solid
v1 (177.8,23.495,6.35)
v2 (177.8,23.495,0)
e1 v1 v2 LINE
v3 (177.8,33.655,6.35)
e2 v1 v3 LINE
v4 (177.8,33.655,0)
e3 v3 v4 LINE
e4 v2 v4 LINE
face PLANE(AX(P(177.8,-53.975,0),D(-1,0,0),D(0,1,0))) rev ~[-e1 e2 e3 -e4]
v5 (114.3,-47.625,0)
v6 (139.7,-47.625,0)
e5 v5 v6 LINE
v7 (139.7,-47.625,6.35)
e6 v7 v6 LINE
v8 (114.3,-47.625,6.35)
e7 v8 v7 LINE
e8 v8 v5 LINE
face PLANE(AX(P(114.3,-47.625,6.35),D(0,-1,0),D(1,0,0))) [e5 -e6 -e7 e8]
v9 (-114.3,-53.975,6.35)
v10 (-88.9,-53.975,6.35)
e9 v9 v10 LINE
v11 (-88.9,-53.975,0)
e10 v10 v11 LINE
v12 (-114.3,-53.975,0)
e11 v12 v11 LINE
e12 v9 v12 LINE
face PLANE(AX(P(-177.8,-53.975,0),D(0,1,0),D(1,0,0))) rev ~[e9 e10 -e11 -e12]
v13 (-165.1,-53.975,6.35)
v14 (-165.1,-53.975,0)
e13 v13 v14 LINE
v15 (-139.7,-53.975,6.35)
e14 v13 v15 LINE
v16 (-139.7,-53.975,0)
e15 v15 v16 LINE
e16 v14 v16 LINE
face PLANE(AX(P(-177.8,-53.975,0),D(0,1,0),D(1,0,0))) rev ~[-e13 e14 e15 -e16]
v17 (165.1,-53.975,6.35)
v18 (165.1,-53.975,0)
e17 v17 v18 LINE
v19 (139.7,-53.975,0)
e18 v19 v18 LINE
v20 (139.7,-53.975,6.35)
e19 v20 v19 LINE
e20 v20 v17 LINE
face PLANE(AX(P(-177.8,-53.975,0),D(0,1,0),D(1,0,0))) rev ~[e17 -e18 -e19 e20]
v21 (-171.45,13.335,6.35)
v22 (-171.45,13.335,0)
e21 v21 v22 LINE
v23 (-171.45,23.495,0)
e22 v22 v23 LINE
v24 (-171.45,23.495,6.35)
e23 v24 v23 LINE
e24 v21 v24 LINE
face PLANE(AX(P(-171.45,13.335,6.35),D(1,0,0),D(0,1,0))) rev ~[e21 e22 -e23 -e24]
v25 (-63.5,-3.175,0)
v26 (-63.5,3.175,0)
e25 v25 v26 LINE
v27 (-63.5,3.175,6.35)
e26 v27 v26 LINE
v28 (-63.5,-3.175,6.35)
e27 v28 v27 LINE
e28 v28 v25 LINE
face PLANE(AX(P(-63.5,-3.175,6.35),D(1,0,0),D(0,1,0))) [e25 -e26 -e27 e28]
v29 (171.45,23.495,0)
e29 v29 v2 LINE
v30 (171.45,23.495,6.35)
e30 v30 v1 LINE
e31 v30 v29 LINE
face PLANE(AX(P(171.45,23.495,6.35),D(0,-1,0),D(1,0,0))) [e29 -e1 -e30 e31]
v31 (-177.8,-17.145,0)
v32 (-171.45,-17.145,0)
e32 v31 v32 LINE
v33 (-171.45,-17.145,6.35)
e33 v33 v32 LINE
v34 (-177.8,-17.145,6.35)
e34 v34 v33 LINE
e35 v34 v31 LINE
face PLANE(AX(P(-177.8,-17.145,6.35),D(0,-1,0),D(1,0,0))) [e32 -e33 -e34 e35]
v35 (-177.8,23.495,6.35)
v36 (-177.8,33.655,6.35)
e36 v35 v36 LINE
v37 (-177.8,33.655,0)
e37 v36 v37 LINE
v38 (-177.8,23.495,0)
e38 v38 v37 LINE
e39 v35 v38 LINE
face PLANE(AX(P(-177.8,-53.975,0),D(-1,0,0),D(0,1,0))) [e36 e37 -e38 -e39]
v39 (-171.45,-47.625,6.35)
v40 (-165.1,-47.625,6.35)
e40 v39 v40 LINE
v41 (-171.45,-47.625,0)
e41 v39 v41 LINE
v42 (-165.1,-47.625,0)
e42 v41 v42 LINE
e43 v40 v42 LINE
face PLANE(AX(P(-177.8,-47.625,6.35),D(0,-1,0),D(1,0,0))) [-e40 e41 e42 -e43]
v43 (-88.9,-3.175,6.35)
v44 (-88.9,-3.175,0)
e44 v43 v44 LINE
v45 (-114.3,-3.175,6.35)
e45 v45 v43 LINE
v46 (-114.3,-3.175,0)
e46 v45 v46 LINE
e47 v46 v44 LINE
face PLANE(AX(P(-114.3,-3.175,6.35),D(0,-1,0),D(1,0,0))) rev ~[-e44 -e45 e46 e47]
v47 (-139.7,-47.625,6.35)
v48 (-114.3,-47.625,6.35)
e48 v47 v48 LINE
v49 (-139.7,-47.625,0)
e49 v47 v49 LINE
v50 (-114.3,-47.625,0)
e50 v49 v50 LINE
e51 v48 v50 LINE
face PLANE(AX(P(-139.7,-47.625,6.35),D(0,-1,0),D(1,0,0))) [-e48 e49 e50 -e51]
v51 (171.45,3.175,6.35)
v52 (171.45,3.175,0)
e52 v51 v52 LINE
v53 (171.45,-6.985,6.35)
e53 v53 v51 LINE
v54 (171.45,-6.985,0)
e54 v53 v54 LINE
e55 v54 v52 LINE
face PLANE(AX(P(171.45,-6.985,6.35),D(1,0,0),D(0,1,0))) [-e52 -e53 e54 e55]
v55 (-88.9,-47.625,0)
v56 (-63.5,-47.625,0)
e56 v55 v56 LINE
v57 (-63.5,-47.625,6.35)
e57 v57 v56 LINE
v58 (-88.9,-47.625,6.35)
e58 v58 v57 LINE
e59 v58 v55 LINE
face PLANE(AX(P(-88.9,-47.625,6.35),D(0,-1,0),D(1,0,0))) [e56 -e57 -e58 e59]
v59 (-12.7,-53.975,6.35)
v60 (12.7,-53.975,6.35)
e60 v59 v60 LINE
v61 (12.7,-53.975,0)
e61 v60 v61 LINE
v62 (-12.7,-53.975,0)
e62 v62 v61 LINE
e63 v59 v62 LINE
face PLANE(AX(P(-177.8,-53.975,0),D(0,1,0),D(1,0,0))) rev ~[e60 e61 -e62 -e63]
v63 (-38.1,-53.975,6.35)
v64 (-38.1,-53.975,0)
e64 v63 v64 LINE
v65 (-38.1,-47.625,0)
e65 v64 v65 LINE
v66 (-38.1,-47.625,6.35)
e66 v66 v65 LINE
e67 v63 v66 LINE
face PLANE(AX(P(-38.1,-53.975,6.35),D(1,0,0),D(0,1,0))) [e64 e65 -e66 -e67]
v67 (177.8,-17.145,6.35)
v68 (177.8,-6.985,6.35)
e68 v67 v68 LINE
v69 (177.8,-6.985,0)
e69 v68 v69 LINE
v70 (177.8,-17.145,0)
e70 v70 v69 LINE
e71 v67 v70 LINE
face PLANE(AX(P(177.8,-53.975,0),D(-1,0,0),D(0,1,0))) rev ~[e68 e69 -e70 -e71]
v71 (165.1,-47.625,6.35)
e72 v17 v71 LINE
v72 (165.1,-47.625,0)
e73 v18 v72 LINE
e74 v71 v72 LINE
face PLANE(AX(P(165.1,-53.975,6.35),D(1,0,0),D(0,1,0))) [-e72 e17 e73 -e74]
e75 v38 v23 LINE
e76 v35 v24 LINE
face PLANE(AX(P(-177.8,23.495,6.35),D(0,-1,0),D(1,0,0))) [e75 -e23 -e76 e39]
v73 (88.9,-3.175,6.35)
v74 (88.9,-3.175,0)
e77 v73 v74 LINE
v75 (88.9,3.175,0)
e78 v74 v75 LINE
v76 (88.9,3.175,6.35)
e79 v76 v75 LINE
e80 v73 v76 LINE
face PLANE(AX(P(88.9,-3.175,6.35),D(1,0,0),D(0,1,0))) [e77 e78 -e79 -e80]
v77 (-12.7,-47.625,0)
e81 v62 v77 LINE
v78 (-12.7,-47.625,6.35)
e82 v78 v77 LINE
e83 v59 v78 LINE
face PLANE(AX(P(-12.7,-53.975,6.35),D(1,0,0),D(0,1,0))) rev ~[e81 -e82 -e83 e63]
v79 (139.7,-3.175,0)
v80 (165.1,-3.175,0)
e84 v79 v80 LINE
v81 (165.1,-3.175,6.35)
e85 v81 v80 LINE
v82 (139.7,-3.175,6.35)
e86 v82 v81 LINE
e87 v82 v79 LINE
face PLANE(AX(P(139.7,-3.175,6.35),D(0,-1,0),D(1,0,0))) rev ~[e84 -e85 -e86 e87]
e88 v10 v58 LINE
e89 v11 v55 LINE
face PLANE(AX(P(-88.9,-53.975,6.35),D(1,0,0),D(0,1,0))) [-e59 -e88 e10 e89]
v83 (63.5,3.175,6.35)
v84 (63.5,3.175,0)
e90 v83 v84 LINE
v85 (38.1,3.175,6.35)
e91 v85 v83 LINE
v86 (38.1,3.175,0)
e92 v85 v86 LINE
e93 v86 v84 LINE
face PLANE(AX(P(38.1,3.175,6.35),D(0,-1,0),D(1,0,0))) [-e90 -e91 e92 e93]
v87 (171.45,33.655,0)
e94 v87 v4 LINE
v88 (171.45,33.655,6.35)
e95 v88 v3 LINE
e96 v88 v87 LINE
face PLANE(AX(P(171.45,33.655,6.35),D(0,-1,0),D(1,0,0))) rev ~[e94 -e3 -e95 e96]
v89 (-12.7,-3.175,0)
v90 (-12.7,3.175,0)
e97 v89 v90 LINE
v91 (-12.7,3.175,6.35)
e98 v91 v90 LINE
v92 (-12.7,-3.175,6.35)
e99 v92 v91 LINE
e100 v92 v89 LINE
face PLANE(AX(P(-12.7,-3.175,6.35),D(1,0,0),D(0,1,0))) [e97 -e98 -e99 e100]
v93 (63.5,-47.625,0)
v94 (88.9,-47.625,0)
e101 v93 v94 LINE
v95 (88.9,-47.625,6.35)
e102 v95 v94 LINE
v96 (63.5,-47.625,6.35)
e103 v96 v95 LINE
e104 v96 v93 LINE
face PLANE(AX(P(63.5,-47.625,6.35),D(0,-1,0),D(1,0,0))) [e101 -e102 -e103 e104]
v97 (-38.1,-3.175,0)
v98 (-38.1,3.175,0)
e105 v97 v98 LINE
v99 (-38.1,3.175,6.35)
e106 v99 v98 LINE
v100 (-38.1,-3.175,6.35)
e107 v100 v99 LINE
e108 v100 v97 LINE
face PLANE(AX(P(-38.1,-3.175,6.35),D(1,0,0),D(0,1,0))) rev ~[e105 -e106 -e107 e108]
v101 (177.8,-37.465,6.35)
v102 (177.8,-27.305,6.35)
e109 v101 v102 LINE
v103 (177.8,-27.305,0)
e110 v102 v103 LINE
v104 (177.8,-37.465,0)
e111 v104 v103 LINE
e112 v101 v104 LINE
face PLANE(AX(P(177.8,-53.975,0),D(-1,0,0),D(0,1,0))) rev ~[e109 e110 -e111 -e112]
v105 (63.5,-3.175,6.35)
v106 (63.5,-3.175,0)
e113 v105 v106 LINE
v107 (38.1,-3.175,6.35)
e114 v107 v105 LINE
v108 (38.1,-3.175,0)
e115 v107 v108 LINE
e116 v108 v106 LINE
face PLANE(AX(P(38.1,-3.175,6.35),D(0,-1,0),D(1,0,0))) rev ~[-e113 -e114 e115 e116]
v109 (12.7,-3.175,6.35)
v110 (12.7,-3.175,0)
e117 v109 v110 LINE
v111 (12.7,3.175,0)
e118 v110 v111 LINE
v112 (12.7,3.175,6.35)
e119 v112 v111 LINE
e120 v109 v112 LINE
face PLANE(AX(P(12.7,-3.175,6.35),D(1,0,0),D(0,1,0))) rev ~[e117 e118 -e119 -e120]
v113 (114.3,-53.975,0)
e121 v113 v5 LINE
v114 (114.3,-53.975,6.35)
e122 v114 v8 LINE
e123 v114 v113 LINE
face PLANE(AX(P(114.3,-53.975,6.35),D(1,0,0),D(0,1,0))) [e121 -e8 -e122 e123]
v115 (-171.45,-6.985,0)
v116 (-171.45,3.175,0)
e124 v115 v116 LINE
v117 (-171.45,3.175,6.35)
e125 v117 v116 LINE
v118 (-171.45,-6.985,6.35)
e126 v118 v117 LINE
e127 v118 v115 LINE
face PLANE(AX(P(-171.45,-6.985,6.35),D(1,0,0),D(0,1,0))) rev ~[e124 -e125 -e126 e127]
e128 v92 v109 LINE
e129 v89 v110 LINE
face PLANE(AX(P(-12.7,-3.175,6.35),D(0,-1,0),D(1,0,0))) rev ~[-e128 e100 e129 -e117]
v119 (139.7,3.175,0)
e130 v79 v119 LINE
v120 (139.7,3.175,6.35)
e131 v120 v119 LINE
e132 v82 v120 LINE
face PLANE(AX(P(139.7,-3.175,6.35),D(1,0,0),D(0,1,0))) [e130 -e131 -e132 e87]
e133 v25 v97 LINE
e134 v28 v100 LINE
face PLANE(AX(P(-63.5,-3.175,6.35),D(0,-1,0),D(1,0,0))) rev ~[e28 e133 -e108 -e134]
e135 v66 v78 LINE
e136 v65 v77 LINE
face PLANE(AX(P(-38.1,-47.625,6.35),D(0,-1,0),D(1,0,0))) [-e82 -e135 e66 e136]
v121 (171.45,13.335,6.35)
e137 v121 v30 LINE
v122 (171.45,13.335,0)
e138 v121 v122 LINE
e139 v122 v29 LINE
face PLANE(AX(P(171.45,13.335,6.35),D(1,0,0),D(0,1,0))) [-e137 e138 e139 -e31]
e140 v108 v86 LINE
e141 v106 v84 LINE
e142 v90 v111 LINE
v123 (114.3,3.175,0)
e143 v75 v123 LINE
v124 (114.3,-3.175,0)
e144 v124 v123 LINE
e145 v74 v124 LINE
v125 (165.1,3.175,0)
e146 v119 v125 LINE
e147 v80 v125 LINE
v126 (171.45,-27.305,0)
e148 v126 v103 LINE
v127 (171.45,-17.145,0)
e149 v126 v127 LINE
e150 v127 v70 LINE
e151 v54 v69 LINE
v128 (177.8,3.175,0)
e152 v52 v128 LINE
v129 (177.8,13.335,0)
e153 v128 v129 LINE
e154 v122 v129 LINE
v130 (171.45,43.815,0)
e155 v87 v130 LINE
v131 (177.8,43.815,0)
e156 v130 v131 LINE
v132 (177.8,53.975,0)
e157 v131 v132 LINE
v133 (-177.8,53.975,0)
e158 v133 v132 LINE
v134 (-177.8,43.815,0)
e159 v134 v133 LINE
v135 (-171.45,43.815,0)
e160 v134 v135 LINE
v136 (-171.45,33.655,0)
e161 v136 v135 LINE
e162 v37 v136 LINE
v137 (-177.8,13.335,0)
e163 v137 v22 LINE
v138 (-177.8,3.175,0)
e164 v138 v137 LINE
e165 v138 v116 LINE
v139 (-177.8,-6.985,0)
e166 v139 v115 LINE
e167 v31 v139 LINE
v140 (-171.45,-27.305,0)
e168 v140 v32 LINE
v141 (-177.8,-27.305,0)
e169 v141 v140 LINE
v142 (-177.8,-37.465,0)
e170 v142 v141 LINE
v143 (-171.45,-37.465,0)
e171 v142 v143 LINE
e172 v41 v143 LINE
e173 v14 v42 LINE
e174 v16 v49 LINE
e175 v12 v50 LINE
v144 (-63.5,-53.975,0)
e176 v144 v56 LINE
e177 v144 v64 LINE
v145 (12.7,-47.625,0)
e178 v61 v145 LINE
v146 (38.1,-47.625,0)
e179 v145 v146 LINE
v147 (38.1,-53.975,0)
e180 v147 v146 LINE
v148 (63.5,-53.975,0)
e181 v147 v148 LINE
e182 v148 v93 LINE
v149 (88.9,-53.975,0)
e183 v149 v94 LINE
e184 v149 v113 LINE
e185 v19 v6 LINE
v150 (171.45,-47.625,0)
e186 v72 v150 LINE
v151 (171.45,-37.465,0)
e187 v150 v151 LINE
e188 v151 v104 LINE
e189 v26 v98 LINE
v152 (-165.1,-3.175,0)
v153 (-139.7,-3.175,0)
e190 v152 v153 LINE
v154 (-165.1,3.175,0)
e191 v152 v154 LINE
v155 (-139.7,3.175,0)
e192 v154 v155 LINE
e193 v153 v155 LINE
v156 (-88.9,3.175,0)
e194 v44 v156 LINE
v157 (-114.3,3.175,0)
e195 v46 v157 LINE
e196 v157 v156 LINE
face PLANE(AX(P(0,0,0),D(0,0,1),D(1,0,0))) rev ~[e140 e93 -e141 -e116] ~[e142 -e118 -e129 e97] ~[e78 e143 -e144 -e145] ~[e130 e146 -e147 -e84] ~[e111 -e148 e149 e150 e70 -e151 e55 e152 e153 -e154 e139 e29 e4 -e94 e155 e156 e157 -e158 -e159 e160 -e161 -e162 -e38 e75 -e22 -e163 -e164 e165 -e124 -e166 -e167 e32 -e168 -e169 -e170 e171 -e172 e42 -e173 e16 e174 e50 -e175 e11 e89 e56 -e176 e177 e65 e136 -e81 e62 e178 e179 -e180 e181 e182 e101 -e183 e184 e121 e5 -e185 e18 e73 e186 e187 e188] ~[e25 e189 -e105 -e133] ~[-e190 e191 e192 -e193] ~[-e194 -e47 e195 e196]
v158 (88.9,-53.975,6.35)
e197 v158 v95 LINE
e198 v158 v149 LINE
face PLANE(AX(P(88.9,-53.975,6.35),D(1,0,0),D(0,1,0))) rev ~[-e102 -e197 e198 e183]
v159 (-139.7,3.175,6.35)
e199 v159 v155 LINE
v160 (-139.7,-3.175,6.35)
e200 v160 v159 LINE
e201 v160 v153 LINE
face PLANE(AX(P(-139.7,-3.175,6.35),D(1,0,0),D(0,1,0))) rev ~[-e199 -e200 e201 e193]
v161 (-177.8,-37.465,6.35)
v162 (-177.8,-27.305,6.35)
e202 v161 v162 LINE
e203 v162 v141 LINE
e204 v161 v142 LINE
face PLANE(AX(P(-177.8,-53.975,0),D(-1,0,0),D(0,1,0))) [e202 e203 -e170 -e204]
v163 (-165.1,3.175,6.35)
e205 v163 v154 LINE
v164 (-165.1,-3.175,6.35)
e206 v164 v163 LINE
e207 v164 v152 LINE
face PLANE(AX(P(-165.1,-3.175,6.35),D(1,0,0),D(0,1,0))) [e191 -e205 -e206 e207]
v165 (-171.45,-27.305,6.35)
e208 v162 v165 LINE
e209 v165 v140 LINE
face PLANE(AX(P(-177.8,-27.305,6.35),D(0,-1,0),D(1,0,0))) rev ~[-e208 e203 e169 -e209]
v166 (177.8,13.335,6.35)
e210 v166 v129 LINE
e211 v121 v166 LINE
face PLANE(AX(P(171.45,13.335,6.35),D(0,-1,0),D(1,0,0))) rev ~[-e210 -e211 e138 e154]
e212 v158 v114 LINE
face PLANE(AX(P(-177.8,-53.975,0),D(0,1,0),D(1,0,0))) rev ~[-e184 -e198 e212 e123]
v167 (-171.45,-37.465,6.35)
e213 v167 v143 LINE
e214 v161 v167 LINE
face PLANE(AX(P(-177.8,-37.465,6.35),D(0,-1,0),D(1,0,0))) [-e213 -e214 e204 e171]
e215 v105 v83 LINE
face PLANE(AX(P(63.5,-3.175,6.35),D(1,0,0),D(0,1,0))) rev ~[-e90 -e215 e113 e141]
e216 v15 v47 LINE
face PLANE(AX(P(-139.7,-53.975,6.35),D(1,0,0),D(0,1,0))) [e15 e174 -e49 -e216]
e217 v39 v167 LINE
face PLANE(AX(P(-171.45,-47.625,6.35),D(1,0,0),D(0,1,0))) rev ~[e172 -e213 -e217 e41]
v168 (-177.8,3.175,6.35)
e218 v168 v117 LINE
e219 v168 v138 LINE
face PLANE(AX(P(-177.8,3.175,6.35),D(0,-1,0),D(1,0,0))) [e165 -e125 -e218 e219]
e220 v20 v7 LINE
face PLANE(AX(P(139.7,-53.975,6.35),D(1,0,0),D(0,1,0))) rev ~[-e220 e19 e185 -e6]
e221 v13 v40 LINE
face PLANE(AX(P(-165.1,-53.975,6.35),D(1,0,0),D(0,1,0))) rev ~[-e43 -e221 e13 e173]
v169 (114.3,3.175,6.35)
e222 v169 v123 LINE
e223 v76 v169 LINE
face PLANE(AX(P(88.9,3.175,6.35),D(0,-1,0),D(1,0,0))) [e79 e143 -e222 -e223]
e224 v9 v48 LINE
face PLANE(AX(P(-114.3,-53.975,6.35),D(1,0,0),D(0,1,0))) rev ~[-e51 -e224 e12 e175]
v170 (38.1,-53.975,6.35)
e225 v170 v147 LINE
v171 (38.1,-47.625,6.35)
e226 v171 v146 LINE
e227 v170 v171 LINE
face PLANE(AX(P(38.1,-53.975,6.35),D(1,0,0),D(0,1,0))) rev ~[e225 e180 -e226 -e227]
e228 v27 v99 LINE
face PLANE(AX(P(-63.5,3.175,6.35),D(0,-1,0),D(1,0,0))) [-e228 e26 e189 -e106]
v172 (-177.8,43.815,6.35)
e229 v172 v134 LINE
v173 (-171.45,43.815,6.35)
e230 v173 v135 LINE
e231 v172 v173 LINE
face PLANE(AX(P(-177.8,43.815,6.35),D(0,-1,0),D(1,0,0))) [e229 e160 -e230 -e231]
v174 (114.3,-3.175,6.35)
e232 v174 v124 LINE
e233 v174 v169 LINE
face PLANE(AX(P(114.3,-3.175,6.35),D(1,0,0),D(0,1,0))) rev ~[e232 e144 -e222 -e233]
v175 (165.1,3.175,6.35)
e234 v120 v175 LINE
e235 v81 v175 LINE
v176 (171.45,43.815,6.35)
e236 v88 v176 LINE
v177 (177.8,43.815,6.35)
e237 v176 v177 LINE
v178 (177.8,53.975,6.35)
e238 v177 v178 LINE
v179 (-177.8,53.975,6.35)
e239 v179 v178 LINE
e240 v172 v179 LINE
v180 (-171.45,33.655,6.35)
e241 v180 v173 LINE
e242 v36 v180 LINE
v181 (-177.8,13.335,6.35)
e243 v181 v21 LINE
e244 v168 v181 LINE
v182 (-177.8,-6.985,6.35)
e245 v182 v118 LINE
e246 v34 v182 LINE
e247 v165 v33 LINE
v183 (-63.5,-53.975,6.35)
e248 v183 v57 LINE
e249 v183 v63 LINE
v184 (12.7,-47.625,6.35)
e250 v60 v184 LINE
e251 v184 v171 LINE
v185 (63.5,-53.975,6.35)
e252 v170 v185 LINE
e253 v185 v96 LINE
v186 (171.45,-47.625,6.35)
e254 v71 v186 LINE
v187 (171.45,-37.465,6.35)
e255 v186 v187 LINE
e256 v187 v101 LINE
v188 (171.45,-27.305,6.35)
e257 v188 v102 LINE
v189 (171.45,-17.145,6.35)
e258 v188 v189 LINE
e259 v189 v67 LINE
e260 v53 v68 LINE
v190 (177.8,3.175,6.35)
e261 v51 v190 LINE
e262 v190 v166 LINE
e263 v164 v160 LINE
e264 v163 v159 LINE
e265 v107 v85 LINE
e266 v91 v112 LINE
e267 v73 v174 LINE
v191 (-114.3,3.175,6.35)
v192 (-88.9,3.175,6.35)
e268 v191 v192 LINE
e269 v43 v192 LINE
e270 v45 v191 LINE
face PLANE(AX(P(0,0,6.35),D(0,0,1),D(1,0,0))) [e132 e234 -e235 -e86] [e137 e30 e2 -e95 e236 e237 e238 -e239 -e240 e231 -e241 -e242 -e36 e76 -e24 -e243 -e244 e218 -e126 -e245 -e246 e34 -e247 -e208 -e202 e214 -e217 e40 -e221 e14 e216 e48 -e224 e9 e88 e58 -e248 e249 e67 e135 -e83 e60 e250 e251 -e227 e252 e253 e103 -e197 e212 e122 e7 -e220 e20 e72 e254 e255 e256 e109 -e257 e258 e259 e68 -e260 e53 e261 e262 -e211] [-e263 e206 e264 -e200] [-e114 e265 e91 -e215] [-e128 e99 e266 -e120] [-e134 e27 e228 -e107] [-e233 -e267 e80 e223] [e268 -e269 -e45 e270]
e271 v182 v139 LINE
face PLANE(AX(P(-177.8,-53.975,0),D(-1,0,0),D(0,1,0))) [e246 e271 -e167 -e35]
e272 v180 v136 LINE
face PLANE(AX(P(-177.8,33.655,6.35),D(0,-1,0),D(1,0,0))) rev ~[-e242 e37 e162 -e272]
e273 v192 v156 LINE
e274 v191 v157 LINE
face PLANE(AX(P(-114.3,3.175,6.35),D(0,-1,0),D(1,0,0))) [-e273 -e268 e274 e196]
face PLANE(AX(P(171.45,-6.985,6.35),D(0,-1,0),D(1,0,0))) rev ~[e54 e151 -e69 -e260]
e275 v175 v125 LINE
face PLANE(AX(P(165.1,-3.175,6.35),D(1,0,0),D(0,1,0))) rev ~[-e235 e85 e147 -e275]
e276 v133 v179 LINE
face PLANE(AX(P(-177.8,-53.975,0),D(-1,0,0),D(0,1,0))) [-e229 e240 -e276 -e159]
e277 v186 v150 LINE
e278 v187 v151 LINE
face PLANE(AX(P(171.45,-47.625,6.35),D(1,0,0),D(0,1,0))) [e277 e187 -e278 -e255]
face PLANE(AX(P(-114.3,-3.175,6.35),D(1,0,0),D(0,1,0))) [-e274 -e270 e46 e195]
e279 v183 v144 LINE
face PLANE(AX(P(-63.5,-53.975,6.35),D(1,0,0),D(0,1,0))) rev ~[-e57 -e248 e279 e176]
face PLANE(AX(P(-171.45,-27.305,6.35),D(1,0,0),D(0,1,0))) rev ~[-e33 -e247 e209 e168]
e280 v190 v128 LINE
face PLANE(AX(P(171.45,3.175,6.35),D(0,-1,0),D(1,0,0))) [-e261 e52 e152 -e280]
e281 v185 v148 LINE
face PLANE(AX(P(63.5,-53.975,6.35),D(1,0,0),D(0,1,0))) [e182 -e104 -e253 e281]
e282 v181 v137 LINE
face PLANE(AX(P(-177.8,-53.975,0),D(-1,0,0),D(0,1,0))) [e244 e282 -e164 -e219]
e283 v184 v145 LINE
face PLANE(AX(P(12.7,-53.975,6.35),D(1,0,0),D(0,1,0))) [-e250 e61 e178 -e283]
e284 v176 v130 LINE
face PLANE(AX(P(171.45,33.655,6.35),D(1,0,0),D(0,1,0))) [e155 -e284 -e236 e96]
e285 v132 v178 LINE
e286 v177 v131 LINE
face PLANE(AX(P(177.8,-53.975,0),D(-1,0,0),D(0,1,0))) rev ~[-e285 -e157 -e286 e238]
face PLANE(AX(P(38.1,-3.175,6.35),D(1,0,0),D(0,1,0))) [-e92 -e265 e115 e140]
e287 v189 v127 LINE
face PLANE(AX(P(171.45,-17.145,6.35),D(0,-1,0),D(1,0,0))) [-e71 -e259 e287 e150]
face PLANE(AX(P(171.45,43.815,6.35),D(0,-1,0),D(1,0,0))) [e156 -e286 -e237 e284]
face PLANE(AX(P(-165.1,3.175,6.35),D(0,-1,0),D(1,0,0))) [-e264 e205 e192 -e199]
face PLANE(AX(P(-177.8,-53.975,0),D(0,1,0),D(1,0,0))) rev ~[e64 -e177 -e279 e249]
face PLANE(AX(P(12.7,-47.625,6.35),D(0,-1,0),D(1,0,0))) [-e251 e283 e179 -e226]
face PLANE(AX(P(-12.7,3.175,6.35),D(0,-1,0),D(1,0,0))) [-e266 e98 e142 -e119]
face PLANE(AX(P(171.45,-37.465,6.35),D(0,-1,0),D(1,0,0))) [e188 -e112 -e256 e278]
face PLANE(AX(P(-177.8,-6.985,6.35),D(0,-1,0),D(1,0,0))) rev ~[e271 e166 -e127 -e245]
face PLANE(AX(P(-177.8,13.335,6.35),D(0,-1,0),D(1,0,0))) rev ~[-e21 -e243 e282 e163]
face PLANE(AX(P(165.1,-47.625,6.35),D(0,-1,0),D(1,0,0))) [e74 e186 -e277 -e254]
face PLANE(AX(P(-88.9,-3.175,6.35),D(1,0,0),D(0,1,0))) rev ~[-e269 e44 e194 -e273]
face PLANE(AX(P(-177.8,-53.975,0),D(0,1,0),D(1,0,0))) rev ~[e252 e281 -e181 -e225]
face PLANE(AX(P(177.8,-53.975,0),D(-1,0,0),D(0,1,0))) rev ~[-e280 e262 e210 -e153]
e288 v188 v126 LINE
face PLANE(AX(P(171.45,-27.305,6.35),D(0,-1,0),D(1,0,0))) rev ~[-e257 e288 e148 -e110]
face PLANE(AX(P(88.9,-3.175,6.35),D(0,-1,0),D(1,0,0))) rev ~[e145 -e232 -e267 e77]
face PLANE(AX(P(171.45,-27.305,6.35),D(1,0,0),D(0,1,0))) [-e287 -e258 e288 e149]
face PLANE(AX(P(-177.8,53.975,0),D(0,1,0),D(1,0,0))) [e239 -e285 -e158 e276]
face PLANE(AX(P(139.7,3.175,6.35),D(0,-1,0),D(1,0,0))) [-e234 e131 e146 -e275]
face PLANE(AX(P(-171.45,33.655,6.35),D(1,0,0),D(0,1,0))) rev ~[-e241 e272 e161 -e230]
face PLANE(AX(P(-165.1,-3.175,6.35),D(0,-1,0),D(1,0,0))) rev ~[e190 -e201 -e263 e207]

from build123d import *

# Parameters (mm, degrees)
ESQUISSE1_W                     = 355.6
ESQUISSE1_H                     = 107.95
BOSS_EXTRU_1_DEPTH              = 6.35
ESQUISSE4_W                     = 6.35
ESQUISSE4_H                     = 10.16
ENL_V_MAT_EXTRU_3_DEPTH         = 6.35
R_P_TITION_LIN_AIRE2_COUNT      = 5
R_P_TITION_LIN_AIRE2_PITCH      = 20.32
R_P_TITION_LIN_AIRE2_COUNT_DIR2 = 2
R_P_TITION_LIN_AIRE2_PITCH_DIR2 = 349.25
ESQUISSE5_W                     = 25.4
ESQUISSE5_H                     = 6.35
ENL_V_MAT_EXTRU_4_DEPTH         = 6.35
R_P_TITION_LIN_AIRE3_COUNT      = 7
R_P_TITION_LIN_AIRE3_PITCH      = 50.8
ESQUISSE6_W                     = 12.7
ESQUISSE6_H                     = 6.35
ENL_V_MAT_EXTRU_5_DEPTH         = 6.35
ESQUISSE7_W                     = 25.4
ESQUISSE7_H                     = 6.35
ENL_V_MAT_EXTRU_6_DEPTH         = 6.35
R_P_TITION_LIN_AIRE5_COUNT      = 7
R_P_TITION_LIN_AIRE5_PITCH      = 50.8


with BuildPart() as part:
    # Esquisse1 → Boss.-Extru.1 (new body)
    with BuildSketch(Plane.XY):
        Rectangle(ESQUISSE1_W, ESQUISSE1_H)
    extrude(amount=BOSS_EXTRU_1_DEPTH)

    # Esquisse4 → Enlèv. mat.-Extru.3 (cut)
    with BuildSketch(Plane.XY.offset(6.35)):
        with Locations((-174.625, 38.735)):
            Rectangle(ESQUISSE4_W, ESQUISSE4_H)
    enl_v_mat_extru_3 = extrude(amount=-ENL_V_MAT_EXTRU_3_DEPTH, mode=Mode.SUBTRACT)

    # Répétition linéaire2: Enl_v. mat.-Extru.3 5 × 2
    with Locations(*[(j * R_P_TITION_LIN_AIRE2_PITCH_DIR2, -i * R_P_TITION_LIN_AIRE2_PITCH, 0) for i in range(R_P_TITION_LIN_AIRE2_COUNT) for j in range(R_P_TITION_LIN_AIRE2_COUNT_DIR2) if (i, j) != (0, 0)]):
        add(enl_v_mat_extru_3, mode=Mode.SUBTRACT)

    # Esquisse5 → Enlèv. mat.-Extru.4 (cut)
    with BuildSketch(Plane.XY.offset(6.35)):
        with Locations((-127, -50.8)):
            Rectangle(ESQUISSE5_W, ESQUISSE5_H)
    enl_v_mat_extru_4 = extrude(amount=-ENL_V_MAT_EXTRU_4_DEPTH, mode=Mode.SUBTRACT)

    # Répétition linéaire3: Enlèv. mat.-Extru.4 ×7
    with Locations(*[(i * R_P_TITION_LIN_AIRE3_PITCH, 0, 0) for i in range(1, R_P_TITION_LIN_AIRE3_COUNT)]):
        add(enl_v_mat_extru_4, mode=Mode.SUBTRACT)

    # Esquisse6 → Enlèv. mat.-Extru.5 (cut)
    with BuildSketch(Plane.XY.offset(6.35)):
        with Locations((-171.45, -50.8)):
            Rectangle(ESQUISSE6_W, ESQUISSE6_H)
    extrude(amount=-ENL_V_MAT_EXTRU_5_DEPTH, mode=Mode.SUBTRACT)

    # Esquisse7 → Enlèv. mat.-Extru.6 (cut)
    with BuildSketch(Plane.XY.offset(6.35)):
        with Locations((-152.4, 0)):
            Rectangle(ESQUISSE7_W, ESQUISSE7_H)
    enl_v_mat_extru_6 = extrude(amount=-ENL_V_MAT_EXTRU_6_DEPTH, mode=Mode.SUBTRACT)

    # Répétition linéaire5: Enlèv. mat.-Extru.6 ×7
    with Locations(*[(i * R_P_TITION_LIN_AIRE5_PITCH, 0, 0) for i in range(1, R_P_TITION_LIN_AIRE5_COUNT)]):
        add(enl_v_mat_extru_6, mode=Mode.SUBTRACT)


solid = part.part
